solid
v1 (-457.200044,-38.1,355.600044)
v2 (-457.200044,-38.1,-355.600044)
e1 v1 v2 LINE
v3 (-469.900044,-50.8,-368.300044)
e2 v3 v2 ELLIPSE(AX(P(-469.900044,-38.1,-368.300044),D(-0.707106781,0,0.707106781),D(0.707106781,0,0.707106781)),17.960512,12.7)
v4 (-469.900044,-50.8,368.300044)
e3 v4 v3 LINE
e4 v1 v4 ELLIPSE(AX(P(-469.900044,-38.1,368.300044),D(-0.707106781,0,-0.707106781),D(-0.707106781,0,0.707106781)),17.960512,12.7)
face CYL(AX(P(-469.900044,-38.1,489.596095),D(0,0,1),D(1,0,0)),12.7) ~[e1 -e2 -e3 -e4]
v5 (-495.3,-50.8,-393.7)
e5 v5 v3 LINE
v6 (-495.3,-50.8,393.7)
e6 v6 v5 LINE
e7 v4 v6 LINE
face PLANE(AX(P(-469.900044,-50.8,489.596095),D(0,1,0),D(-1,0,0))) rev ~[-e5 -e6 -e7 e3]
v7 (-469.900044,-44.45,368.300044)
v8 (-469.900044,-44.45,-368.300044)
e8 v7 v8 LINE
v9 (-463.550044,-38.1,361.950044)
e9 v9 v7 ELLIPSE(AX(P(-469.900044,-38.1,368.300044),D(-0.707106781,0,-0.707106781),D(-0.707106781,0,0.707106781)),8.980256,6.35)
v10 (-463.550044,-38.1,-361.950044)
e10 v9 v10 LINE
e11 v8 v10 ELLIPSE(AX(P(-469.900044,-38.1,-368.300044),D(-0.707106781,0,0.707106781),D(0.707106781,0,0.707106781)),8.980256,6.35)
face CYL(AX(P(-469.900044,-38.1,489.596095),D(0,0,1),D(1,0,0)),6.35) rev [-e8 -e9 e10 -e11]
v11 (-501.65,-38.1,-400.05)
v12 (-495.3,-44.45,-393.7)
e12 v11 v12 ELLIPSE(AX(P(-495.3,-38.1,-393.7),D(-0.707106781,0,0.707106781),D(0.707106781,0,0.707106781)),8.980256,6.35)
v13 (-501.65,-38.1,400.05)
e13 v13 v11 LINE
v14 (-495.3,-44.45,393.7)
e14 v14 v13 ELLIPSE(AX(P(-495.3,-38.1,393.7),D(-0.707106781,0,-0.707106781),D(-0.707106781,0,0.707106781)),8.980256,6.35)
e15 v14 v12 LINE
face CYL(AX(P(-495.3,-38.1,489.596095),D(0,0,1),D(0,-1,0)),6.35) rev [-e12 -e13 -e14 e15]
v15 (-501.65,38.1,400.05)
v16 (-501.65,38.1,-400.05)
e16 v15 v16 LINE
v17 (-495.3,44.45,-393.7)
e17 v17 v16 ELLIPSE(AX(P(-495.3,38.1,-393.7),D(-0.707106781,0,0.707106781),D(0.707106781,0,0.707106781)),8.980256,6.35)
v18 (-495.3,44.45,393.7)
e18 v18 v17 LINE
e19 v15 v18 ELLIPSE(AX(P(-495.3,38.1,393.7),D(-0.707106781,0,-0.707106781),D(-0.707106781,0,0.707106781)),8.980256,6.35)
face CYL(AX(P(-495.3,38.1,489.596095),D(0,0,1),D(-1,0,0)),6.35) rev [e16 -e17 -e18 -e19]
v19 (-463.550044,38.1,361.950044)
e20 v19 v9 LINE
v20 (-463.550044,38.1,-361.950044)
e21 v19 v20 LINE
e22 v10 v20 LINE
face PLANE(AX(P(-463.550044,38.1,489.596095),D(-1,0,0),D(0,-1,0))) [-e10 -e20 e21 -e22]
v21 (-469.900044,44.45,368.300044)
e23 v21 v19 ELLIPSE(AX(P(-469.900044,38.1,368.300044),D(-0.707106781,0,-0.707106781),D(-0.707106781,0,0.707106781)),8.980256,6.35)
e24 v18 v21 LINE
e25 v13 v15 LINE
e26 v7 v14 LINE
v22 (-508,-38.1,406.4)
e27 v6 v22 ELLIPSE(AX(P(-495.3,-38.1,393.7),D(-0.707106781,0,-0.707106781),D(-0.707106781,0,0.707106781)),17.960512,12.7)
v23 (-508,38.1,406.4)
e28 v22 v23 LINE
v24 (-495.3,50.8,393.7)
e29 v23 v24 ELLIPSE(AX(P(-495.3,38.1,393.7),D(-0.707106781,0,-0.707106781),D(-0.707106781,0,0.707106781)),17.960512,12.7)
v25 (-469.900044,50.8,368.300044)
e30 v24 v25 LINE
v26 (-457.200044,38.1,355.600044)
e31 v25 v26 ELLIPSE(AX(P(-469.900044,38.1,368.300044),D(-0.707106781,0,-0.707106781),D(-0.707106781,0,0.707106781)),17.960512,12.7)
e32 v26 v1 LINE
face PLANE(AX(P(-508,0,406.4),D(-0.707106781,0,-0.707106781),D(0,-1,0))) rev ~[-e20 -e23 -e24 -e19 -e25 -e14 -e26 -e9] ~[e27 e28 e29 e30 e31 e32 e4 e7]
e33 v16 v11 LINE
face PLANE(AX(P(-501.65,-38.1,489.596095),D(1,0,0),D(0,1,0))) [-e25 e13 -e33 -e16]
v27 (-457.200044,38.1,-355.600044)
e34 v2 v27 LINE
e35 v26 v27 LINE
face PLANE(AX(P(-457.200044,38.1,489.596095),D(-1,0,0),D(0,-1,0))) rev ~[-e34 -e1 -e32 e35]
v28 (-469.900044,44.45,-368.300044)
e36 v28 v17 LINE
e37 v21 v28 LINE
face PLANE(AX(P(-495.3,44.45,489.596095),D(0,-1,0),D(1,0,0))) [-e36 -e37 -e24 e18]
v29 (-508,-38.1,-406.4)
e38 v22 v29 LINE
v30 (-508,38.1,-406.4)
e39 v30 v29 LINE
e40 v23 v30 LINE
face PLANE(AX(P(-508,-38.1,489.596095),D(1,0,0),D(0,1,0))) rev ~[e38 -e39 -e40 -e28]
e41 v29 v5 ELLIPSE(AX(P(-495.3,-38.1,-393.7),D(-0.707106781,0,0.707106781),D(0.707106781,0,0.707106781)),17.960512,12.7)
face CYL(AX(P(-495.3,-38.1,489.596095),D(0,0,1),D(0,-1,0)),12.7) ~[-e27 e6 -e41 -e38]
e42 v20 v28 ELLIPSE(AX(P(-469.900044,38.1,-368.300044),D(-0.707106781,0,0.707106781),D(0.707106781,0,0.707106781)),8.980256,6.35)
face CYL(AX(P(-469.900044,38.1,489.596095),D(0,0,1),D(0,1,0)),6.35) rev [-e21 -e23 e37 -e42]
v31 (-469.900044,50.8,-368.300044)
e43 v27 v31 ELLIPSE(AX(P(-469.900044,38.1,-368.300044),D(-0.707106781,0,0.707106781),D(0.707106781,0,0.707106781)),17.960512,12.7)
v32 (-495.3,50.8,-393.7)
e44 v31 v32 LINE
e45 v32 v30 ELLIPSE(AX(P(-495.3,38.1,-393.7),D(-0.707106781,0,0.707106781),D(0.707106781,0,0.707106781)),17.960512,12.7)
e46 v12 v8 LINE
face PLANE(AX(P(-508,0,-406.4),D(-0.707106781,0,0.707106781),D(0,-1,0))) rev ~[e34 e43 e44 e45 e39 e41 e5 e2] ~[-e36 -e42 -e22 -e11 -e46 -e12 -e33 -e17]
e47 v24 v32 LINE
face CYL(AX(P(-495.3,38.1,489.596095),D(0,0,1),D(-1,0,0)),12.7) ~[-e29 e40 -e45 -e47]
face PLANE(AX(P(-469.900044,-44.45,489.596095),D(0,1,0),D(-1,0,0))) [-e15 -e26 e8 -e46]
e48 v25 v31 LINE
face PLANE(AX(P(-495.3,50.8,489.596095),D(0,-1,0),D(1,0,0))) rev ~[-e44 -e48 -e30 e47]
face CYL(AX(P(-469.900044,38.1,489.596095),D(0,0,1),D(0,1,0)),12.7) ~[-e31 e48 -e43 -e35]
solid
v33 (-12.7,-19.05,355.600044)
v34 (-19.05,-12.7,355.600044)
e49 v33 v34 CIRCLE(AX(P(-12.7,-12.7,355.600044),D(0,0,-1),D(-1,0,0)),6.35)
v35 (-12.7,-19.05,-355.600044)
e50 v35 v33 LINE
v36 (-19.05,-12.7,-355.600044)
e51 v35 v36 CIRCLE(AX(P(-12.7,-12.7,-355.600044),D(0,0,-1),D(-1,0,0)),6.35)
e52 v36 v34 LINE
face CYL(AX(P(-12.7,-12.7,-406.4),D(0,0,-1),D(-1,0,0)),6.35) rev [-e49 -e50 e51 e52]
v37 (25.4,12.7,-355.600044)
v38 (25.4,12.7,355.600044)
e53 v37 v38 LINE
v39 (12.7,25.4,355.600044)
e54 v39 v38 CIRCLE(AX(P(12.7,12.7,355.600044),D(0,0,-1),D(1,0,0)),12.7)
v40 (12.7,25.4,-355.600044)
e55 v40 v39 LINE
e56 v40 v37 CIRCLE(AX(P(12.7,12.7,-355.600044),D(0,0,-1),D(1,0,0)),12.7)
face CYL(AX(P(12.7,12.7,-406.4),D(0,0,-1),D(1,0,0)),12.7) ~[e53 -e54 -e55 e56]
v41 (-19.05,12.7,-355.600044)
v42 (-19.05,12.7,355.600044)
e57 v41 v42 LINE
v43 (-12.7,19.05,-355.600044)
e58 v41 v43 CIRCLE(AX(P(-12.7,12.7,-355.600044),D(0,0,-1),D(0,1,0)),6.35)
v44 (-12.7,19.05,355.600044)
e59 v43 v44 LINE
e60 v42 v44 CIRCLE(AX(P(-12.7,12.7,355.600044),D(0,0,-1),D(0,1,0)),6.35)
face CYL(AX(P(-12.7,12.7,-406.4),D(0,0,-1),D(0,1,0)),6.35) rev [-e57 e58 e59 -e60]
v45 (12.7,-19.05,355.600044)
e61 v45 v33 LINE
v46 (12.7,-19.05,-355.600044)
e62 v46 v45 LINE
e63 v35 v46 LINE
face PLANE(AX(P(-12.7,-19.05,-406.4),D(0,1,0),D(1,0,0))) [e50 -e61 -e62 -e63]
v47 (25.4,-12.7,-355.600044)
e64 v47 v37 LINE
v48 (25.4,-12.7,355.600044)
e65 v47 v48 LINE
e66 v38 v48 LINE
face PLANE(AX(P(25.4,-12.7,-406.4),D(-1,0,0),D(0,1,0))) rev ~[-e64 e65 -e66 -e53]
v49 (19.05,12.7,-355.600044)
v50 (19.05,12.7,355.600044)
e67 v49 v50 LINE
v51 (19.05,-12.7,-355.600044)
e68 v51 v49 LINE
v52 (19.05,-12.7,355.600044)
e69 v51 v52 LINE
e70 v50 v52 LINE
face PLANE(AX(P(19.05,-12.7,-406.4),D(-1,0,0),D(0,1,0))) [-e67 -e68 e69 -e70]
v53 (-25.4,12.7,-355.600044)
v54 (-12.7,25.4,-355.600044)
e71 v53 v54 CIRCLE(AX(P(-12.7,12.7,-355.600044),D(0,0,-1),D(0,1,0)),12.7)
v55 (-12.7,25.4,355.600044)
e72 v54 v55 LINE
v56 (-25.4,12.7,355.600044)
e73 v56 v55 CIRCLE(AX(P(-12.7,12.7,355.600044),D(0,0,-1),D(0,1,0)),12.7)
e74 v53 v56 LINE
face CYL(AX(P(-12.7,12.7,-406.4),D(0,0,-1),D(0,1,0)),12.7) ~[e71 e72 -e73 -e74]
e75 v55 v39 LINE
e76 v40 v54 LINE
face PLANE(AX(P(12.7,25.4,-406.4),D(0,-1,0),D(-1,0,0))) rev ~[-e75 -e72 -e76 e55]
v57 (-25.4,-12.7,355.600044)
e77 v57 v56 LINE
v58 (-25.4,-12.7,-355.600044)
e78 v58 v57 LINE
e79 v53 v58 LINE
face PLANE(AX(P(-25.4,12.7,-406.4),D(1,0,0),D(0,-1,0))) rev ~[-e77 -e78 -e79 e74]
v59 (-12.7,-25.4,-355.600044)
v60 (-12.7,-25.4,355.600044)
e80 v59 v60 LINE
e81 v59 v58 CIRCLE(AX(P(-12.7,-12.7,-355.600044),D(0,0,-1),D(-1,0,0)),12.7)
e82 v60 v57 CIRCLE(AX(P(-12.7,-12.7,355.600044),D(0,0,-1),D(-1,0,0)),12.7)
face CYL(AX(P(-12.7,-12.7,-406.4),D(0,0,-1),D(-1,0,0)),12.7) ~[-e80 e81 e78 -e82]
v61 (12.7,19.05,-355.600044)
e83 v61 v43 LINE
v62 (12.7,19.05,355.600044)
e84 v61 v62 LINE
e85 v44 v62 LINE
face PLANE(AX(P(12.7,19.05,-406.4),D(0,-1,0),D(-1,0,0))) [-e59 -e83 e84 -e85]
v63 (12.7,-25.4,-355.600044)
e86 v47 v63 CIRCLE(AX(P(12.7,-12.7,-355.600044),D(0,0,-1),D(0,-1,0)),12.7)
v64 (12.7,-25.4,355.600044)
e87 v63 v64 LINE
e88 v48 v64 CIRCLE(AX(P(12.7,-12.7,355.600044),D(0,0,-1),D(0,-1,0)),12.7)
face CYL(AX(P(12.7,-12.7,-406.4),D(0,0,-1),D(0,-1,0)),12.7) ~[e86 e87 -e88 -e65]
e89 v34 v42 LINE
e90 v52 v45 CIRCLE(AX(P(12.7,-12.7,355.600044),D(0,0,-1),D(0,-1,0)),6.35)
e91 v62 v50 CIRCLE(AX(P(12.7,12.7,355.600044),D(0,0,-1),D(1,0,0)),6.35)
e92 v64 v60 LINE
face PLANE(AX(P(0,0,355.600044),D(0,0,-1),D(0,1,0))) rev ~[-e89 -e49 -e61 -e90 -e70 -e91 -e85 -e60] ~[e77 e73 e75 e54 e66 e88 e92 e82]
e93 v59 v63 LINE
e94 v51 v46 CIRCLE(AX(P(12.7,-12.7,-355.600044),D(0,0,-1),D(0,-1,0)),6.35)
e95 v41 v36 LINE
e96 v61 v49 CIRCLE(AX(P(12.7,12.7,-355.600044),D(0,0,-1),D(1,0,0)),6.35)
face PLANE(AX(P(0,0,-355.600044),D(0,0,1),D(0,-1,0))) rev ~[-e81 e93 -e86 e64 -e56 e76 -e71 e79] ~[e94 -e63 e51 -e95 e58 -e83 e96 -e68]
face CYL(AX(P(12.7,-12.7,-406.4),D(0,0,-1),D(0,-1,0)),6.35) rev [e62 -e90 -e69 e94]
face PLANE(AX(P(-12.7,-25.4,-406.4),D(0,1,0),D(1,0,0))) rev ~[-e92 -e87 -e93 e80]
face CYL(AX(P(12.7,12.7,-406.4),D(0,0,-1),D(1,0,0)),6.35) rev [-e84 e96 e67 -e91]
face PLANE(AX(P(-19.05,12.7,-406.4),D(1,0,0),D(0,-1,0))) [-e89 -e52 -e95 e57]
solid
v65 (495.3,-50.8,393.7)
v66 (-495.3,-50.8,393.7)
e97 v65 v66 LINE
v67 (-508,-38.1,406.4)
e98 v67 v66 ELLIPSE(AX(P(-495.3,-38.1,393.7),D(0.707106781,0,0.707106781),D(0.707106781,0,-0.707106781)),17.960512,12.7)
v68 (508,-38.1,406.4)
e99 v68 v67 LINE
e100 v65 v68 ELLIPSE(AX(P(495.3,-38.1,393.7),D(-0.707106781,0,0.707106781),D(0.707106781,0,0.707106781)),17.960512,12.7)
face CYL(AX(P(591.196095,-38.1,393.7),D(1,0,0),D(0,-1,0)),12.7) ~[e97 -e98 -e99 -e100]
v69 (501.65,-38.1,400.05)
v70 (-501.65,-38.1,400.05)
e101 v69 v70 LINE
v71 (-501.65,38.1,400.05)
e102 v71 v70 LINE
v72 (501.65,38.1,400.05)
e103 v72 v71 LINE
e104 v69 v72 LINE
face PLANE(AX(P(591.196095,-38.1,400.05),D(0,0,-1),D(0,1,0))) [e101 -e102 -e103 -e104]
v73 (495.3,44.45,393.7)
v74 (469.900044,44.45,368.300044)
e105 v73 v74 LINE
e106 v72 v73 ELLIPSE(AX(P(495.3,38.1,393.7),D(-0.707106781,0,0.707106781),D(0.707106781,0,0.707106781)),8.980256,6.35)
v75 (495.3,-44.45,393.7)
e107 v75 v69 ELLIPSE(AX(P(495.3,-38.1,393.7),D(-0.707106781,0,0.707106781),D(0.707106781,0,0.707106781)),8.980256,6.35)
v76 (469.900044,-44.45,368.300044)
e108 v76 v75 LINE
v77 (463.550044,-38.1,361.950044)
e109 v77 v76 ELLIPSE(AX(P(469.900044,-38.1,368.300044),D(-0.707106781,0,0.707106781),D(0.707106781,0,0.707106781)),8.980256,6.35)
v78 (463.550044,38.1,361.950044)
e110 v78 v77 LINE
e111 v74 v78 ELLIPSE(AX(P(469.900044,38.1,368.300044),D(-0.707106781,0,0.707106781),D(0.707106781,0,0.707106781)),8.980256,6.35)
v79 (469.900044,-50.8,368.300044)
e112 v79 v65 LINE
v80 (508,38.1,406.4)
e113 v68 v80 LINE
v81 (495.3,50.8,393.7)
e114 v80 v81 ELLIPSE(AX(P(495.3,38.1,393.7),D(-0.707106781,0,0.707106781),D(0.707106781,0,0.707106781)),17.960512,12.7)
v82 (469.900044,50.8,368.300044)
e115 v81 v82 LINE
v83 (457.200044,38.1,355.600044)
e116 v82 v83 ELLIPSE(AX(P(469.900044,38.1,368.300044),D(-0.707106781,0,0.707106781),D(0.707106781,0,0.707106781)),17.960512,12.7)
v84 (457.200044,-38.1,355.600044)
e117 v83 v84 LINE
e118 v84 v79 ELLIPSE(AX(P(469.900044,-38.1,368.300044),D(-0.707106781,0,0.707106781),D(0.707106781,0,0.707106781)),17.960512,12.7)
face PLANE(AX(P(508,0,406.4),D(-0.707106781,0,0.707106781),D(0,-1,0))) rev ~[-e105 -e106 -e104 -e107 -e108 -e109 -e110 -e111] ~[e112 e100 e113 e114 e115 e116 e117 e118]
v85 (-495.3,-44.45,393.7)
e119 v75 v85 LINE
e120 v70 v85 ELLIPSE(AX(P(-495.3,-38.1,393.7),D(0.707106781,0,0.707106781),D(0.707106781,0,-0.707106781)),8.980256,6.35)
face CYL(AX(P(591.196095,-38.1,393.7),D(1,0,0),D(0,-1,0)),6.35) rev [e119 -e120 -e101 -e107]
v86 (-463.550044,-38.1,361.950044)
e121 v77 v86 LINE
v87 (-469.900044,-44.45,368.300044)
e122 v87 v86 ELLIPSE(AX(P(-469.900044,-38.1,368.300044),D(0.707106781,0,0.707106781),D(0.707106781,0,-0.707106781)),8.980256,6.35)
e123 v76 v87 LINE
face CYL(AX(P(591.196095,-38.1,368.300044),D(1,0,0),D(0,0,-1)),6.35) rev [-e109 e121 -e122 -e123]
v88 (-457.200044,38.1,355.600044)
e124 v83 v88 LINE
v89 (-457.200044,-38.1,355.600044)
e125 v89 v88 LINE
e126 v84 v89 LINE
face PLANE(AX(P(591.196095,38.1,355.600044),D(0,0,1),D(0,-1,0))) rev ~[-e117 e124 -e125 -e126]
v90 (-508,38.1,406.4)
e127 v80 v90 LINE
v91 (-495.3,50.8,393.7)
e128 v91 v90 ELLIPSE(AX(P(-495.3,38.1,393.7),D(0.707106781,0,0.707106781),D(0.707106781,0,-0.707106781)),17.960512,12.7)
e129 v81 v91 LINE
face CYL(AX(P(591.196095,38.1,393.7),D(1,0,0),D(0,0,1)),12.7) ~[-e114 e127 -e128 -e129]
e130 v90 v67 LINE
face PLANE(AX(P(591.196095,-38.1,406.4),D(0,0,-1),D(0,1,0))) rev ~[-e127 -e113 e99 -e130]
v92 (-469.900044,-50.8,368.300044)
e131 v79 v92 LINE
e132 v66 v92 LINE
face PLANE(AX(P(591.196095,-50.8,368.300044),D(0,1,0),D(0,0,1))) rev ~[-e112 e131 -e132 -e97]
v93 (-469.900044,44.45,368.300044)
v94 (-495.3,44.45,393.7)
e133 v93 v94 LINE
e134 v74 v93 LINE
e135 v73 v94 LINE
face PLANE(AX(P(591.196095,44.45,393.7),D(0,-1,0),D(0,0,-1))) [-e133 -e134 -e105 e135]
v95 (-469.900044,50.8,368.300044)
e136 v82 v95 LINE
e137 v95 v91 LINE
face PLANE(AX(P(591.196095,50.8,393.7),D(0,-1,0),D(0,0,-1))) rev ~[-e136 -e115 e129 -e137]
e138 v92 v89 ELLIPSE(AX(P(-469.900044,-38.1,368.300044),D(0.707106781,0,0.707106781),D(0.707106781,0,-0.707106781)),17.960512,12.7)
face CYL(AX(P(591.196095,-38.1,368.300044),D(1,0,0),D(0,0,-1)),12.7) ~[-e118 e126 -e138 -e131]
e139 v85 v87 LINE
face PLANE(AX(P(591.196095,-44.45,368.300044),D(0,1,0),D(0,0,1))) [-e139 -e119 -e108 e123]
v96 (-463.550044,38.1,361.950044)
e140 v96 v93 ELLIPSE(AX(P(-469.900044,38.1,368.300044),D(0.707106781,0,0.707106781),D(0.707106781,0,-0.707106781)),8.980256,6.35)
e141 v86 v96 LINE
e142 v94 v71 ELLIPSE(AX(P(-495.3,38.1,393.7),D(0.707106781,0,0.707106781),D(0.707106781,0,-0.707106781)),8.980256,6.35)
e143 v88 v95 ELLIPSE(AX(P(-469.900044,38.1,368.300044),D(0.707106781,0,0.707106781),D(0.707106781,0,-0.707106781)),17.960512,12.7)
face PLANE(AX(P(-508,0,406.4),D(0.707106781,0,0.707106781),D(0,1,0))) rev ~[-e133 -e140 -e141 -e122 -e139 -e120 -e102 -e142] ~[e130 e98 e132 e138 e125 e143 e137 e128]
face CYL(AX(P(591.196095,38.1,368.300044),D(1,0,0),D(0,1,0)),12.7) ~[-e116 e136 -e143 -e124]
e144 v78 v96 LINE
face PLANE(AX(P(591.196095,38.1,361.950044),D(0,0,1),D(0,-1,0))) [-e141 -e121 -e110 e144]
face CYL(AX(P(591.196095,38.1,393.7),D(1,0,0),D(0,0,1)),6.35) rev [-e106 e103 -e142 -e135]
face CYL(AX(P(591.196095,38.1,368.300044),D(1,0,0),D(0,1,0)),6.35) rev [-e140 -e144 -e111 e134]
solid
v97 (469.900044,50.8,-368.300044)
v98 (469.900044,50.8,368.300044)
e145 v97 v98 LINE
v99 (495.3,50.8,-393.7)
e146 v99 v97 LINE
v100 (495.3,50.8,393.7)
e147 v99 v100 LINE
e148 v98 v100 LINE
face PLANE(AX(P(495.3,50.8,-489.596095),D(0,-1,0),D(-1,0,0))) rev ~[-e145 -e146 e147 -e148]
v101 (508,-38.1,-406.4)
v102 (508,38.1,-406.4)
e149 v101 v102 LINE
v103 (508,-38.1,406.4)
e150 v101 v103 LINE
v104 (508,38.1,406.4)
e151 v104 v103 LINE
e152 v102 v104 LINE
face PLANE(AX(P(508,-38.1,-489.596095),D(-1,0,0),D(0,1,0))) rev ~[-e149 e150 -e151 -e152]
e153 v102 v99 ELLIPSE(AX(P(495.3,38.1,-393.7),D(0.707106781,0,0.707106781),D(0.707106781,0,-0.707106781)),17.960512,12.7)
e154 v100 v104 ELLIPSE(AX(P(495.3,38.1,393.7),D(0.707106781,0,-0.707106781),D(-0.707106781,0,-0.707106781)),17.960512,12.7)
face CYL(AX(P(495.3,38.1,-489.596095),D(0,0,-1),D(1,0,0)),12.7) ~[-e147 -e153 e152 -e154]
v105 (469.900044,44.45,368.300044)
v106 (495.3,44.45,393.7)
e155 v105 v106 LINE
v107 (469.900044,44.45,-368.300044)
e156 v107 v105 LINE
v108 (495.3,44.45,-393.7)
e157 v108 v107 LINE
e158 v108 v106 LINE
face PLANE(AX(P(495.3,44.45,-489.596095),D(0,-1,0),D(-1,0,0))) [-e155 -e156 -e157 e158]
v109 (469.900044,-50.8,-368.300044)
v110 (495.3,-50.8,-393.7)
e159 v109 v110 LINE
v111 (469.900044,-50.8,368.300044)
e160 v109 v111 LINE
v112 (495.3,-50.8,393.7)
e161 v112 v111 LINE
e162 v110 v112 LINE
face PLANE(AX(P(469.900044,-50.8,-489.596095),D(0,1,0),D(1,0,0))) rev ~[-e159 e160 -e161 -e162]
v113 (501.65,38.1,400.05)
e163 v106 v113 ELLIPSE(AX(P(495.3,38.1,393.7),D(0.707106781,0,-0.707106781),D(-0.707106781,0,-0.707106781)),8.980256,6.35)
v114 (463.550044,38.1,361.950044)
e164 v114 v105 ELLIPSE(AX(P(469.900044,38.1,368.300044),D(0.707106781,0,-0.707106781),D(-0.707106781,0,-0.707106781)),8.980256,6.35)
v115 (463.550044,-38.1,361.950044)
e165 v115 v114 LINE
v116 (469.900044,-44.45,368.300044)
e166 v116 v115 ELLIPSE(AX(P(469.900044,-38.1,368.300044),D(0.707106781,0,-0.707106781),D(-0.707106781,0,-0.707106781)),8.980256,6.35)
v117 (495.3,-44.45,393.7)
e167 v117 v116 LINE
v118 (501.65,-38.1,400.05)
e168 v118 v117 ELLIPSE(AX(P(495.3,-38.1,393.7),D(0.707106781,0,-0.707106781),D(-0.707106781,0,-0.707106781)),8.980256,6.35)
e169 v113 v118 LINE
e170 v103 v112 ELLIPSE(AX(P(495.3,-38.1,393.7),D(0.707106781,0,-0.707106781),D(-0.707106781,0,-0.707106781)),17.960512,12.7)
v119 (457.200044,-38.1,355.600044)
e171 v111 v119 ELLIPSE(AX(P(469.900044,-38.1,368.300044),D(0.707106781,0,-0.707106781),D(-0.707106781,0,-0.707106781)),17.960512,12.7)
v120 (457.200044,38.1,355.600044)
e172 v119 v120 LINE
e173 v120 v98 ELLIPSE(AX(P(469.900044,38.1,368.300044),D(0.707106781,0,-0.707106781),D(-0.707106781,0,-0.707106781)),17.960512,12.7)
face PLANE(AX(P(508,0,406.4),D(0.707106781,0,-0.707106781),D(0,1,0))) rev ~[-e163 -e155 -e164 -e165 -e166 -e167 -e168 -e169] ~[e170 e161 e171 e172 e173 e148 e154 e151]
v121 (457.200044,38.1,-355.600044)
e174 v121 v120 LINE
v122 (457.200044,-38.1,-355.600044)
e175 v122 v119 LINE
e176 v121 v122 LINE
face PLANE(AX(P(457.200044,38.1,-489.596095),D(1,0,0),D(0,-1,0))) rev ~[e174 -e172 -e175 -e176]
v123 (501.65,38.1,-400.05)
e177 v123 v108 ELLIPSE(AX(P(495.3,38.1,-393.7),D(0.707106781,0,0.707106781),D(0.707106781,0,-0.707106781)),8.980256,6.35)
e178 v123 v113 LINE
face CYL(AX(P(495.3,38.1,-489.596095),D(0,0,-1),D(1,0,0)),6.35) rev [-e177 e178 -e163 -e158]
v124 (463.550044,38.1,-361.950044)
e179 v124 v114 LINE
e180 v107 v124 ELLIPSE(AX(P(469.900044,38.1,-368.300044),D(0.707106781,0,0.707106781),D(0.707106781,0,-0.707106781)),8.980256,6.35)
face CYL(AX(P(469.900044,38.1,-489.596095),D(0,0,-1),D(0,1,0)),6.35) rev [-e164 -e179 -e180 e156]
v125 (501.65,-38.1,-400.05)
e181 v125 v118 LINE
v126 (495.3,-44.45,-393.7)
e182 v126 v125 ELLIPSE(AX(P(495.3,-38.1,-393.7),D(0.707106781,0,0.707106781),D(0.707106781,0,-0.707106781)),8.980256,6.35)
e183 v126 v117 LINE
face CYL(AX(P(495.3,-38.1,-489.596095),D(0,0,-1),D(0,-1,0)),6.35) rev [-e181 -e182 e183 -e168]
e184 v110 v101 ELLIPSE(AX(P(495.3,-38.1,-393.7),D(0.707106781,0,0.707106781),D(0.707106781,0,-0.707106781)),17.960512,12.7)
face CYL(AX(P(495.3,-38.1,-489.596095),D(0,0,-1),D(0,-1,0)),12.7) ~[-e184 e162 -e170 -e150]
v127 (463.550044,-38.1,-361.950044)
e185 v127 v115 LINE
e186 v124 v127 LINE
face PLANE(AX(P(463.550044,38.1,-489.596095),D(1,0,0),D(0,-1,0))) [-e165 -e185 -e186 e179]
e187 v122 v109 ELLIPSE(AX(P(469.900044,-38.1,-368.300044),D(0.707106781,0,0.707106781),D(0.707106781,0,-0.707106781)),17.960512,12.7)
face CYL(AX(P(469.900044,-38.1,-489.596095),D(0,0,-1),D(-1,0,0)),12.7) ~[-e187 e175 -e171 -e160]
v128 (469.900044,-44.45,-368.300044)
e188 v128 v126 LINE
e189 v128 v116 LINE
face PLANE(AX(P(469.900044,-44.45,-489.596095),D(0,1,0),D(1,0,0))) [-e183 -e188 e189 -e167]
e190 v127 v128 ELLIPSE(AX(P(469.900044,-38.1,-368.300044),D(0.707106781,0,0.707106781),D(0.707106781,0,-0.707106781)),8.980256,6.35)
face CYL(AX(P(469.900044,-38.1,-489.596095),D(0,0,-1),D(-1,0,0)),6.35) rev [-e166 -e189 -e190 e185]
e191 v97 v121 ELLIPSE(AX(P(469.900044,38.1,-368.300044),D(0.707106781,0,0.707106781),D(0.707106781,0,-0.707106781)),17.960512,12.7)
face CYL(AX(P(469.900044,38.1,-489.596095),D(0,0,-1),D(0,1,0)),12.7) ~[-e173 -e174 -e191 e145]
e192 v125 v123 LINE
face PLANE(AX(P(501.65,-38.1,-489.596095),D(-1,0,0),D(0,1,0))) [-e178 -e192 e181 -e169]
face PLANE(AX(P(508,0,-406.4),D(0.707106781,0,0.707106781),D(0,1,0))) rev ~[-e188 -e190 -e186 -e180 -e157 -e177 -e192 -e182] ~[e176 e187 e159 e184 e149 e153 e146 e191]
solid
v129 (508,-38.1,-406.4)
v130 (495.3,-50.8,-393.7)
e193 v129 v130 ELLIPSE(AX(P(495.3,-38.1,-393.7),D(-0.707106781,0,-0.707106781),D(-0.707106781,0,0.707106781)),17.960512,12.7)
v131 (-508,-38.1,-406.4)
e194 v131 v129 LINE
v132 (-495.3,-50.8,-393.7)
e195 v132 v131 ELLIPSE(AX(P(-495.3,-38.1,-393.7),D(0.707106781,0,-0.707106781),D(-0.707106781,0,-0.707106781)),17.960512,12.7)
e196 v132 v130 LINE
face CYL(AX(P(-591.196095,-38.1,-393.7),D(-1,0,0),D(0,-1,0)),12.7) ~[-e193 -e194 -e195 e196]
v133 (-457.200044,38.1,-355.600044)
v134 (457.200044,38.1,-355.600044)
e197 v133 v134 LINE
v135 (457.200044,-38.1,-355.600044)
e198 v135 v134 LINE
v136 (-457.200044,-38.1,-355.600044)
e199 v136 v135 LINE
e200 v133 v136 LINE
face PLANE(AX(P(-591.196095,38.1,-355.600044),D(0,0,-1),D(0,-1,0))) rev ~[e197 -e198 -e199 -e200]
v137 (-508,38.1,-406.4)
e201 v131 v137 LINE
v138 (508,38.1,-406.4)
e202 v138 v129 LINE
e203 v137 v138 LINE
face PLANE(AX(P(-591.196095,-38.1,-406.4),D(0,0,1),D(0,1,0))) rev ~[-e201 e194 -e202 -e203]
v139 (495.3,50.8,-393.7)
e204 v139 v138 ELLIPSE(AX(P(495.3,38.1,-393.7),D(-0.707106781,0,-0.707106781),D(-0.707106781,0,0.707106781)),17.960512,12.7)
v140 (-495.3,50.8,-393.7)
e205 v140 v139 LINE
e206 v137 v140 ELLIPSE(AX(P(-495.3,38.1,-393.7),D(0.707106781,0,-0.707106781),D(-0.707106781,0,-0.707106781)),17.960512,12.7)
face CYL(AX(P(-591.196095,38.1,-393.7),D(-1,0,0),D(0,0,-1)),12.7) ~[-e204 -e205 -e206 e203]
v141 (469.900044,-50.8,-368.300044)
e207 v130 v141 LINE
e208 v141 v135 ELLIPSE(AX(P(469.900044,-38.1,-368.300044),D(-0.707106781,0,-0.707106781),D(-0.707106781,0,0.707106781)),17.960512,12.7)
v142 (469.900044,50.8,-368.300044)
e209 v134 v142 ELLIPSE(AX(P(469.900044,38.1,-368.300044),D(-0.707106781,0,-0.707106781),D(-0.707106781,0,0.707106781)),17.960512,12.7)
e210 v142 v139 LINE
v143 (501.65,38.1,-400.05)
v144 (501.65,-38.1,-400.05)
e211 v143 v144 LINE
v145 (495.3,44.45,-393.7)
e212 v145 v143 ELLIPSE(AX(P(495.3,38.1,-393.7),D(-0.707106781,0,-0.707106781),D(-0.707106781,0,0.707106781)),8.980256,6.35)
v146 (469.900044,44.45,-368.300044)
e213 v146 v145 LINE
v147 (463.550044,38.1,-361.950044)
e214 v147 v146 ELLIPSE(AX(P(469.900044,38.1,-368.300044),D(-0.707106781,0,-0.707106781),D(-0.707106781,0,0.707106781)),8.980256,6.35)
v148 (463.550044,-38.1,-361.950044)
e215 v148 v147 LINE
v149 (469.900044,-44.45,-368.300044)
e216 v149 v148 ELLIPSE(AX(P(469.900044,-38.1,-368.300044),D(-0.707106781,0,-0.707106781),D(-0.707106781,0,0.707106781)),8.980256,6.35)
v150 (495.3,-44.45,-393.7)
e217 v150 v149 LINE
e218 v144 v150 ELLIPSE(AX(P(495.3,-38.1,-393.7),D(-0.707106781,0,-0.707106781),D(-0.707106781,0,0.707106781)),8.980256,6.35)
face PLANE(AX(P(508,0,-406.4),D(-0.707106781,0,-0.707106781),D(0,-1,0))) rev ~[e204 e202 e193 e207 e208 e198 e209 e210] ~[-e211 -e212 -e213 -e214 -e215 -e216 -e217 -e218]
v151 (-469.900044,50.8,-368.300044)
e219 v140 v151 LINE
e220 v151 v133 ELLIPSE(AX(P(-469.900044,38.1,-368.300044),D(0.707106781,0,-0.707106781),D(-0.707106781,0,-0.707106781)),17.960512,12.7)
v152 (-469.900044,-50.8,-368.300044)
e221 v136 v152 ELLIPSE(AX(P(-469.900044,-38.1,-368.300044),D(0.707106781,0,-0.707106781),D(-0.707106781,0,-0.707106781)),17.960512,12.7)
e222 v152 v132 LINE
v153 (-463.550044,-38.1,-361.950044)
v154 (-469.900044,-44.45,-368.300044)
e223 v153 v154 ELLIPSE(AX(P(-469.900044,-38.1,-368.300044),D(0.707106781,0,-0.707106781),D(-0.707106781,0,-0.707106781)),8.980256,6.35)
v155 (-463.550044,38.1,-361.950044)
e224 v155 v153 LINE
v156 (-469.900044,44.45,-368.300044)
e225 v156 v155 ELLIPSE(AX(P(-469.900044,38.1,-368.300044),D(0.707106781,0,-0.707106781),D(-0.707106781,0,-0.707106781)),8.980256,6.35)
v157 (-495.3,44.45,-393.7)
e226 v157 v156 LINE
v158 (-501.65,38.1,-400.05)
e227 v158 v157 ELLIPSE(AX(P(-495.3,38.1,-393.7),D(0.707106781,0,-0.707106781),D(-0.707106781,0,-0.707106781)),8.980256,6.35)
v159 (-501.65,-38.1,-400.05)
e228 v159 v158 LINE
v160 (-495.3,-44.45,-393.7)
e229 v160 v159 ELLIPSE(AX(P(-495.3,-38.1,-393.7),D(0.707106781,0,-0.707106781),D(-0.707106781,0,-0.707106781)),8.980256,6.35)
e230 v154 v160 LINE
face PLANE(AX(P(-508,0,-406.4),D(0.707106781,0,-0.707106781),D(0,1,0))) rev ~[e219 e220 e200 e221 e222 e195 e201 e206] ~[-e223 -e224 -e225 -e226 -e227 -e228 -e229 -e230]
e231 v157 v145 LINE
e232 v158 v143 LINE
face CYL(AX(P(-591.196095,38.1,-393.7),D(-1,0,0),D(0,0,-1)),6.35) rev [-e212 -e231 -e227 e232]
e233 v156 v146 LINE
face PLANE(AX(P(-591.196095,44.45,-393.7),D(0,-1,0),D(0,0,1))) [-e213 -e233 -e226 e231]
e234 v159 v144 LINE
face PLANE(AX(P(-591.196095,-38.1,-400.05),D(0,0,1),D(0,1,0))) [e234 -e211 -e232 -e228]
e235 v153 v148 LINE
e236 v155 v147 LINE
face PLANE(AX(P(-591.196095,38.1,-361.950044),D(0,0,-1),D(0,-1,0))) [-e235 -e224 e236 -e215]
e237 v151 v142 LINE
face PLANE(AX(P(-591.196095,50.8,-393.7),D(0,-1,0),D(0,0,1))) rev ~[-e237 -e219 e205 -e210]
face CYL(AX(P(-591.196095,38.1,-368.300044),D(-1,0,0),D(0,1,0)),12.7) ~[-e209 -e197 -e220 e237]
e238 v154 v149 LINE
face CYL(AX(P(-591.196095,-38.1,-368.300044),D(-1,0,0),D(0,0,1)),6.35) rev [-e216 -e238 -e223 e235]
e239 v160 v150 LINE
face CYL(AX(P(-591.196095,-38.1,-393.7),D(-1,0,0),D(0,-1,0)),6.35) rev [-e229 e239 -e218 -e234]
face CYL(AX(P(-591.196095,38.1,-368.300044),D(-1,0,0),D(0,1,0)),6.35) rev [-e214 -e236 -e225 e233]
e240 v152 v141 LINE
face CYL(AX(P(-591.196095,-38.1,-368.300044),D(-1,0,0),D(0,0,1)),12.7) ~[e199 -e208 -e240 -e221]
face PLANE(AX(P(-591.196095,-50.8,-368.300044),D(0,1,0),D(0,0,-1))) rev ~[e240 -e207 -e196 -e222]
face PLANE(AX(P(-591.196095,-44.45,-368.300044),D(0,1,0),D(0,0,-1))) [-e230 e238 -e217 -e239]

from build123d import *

# Parameters (mm, degrees)
RECTANGULAR_TUBE_4_X_2_X_0_25_1_DEPTH      = 895.996094832
RECTANGULAR_TUBE_4_X_2_X_0_25_1_DEPTH_BACK = 83.196094832
RECTANGULAR_TUBE_4_X_2_X_0_25_1_2_DEPTH    = 1182.392189664
RECTANGULAR_TUBE_4_X_2_X_0_25_1_3_DEPTH    = 979.192189664
RECTANGULAR_TUBE_4_X_2_X_0_25_1_4_DEPTH    = 1182.392189664
SQUARE_TUBE_2_X_2_X_0_25_1_DEPTH           = 812.8


with BuildPart() as part:
    # Sketch1 → Rectangular tube 4 X 2 X 0.25(1) (new, two sides: drawn at the far end of the back side and taken through both)
    with BuildSketch(Plane(origin=(-482.600021971, 0, 406.4), x_dir=(-1, 0, 0), z_dir=(0, 0, -1)).offset(-RECTANGULAR_TUBE_4_X_2_X_0_25_1_DEPTH_BACK)):
        with BuildLine():
            Line((-12.699978029, -50.8), (12.699978029, -50.8))
            ThreePointArc((12.699978029, -50.8), (21.68023415, -47.080256121), (25.399978029, -38.1))
            Line((25.399978029, -38.1), (25.399978029, 38.1))
            ThreePointArc((25.399978029, 38.1), (21.68023415, 47.080256121), (12.699978029, 50.8))
            Line((12.699978029, 50.8), (-12.699978029, 50.8))
            ThreePointArc((-12.699978029, 50.8), (-21.68023415, 47.080256121), (-25.399978029, 38.1))
            Line((-25.399978029, 38.1), (-25.399978029, -38.1))
            ThreePointArc((-25.399978029, -38.1), (-21.68023415, -47.080256121), (-12.699978029, -50.8))
        make_face()
        with BuildLine():
            Line((-12.699978029, -44.45), (12.699978029, -44.45))
            ThreePointArc((12.699978029, -44.45), (17.19010609, -42.590128061), (19.049978029, -38.1))
            Line((19.049978029, -38.1), (19.049978029, 38.1))
            ThreePointArc((19.049978029, 38.1), (17.19010609, 42.590128061), (12.699978029, 44.45))
            Line((12.699978029, 44.45), (-12.699978029, 44.45))
            ThreePointArc((-12.699978029, 44.45), (-17.19010609, 42.590128061), (-19.049978029, 38.1))
            Line((-19.049978029, 38.1), (-19.049978029, -38.1))
            ThreePointArc((-19.049978029, -38.1), (-17.19010609, -42.590128061), (-12.699978029, -44.45))
        make_face(mode=Mode.SUBTRACT)
    extrude(amount=RECTANGULAR_TUBE_4_X_2_X_0_25_1_DEPTH + RECTANGULAR_TUBE_4_X_2_X_0_25_1_DEPTH_BACK)

    # Rectangular tube 4 X 2 X 0.25(1) mitre 1
    split(bisect_by=Plane(origin=(-508, 0, 406.4), x_dir=(0, -1, 0), z_dir=(-0.707106781, 0, -0.707106781)), keep=Keep.TOP)

    # Rectangular tube 4 X 2 X 0.25(1) mitre 2
    split(bisect_by=Plane(origin=(-508, 0, -406.4), x_dir=(0, -1, 0), z_dir=(-0.707106781, 0, 0.707106781)), keep=Keep.TOP)


with BuildPart() as body_2:
    # Sketch1 on segment 2 (carried to segment 2) → Rectangular tube 4 X 2 X 0.25_1 2 (new body)
    with BuildSketch(Plane(origin=(-591.196094832, 0, -381.000021971), x_dir=(0, 0, -1), z_dir=(1, 0, 0))):
        with BuildLine():
            Line((-12.699978029, -50.8), (12.699978029, -50.8))
            ThreePointArc((12.699978029, -50.8), (21.68023415, -47.080256121), (25.399978029, -38.1))
            Line((25.399978029, -38.1), (25.399978029, 38.1))
            ThreePointArc((25.399978029, 38.1), (21.68023415, 47.080256121), (12.699978029, 50.8))
            Line((12.699978029, 50.8), (-12.699978029, 50.8))
            ThreePointArc((-12.699978029, 50.8), (-21.68023415, 47.080256121), (-25.399978029, 38.1))
            Line((-25.399978029, 38.1), (-25.399978029, -38.1))
            ThreePointArc((-25.399978029, -38.1), (-21.68023415, -47.080256121), (-12.699978029, -50.8))
        make_face()
        with BuildLine():
            Line((-12.699978029, -44.45), (12.699978029, -44.45))
            ThreePointArc((12.699978029, -44.45), (17.19010609, -42.590128061), (19.049978029, -38.1))
            Line((19.049978029, -38.1), (19.049978029, 38.1))
            ThreePointArc((19.049978029, 38.1), (17.19010609, 42.590128061), (12.699978029, 44.45))
            Line((12.699978029, 44.45), (-12.699978029, 44.45))
            ThreePointArc((-12.699978029, 44.45), (-17.19010609, 42.590128061), (-19.049978029, 38.1))
            Line((-19.049978029, 38.1), (-19.049978029, -38.1))
            ThreePointArc((-19.049978029, -38.1), (-17.19010609, -42.590128061), (-12.699978029, -44.45))
        make_face(mode=Mode.SUBTRACT)
    extrude(amount=RECTANGULAR_TUBE_4_X_2_X_0_25_1_2_DEPTH)

    # Rectangular tube 4 X 2 X 0.25_1 2 mitre
    split(bisect_by=Plane(origin=(-508, 0, -406.4), x_dir=(0, 1, 0), z_dir=(0.707106781, 0, -0.707106781)), keep=Keep.TOP)

    # Rectangular tube 4 X 2 X 0.25_1 2 mi 2
    split(bisect_by=Plane(origin=(508, 0, -406.4), x_dir=(0, -1, 0), z_dir=(-0.707106781, 0, -0.707106781)), keep=Keep.TOP)


with BuildPart() as body_3:
    # Sketch1 on segment 3 (carried to segment 3) → Rectangular tube 4 X 2 X 0.25_1 3 (new body)
    with BuildSketch(Plane(origin=(482.600021971, 0, -489.596094832), x_dir=(1, 0, 0), z_dir=(0, 0, 1))):
        with BuildLine():
            Line((-12.699978029, -50.8), (12.699978029, -50.8))
            ThreePointArc((12.699978029, -50.8), (21.68023415, -47.080256121), (25.399978029, -38.1))
            Line((25.399978029, -38.1), (25.399978029, 38.1))
            ThreePointArc((25.399978029, 38.1), (21.68023415, 47.080256121), (12.699978029, 50.8))
            Line((12.699978029, 50.8), (-12.699978029, 50.8))
            ThreePointArc((-12.699978029, 50.8), (-21.68023415, 47.080256121), (-25.399978029, 38.1))
            Line((-25.399978029, 38.1), (-25.399978029, -38.1))
            ThreePointArc((-25.399978029, -38.1), (-21.68023415, -47.080256121), (-12.699978029, -50.8))
        make_face()
        with BuildLine():
            Line((-12.699978029, -44.45), (12.699978029, -44.45))
            ThreePointArc((12.699978029, -44.45), (17.19010609, -42.590128061), (19.049978029, -38.1))
            Line((19.049978029, -38.1), (19.049978029, 38.1))
            ThreePointArc((19.049978029, 38.1), (17.19010609, 42.590128061), (12.699978029, 44.45))
            Line((12.699978029, 44.45), (-12.699978029, 44.45))
            ThreePointArc((-12.699978029, 44.45), (-17.19010609, 42.590128061), (-19.049978029, 38.1))
            Line((-19.049978029, 38.1), (-19.049978029, -38.1))
            ThreePointArc((-19.049978029, -38.1), (-17.19010609, -42.590128061), (-12.699978029, -44.45))
        make_face(mode=Mode.SUBTRACT)
    extrude(amount=RECTANGULAR_TUBE_4_X_2_X_0_25_1_3_DEPTH)

    # Rectangular tube 4 X 2 X 0.25_1 3 mitre
    split(bisect_by=Plane(origin=(508, 0, 406.4), x_dir=(0, 1, 0), z_dir=(0.707106781, 0, -0.707106781)), keep=Keep.TOP)

    # Rectangular tube 4 X 2 X 0.25_1 3 mi 2
    split(bisect_by=Plane(origin=(508, 0, -406.4), x_dir=(0, 1, 0), z_dir=(0.707106781, 0, 0.707106781)), keep=Keep.TOP)


with BuildPart() as body_4:
    # Sketch1 on segment 4 (carried to segment 4) → Rectangular tube 4 X 2 X 0.25_1 4 (new body)
    with BuildSketch(Plane(origin=(591.196094832, 0, 381.000021971), x_dir=(0, 0, 1), z_dir=(-1, 0, 0))):
        with BuildLine():
            Line((-12.699978029, -50.8), (12.699978029, -50.8))
            ThreePointArc((12.699978029, -50.8), (21.68023415, -47.080256121), (25.399978029, -38.1))
            Line((25.399978029, -38.1), (25.399978029, 38.1))
            ThreePointArc((25.399978029, 38.1), (21.68023415, 47.080256121), (12.699978029, 50.8))
            Line((12.699978029, 50.8), (-12.699978029, 50.8))
            ThreePointArc((-12.699978029, 50.8), (-21.68023415, 47.080256121), (-25.399978029, 38.1))
            Line((-25.399978029, 38.1), (-25.399978029, -38.1))
            ThreePointArc((-25.399978029, -38.1), (-21.68023415, -47.080256121), (-12.699978029, -50.8))
        make_face()
        with BuildLine():
            Line((-12.699978029, -44.45), (12.699978029, -44.45))
            ThreePointArc((12.699978029, -44.45), (17.19010609, -42.590128061), (19.049978029, -38.1))
            Line((19.049978029, -38.1), (19.049978029, 38.1))
            ThreePointArc((19.049978029, 38.1), (17.19010609, 42.590128061), (12.699978029, 44.45))
            Line((12.699978029, 44.45), (-12.699978029, 44.45))
            ThreePointArc((-12.699978029, 44.45), (-17.19010609, 42.590128061), (-19.049978029, 38.1))
            Line((-19.049978029, 38.1), (-19.049978029, -38.1))
            ThreePointArc((-19.049978029, -38.1), (-17.19010609, -42.590128061), (-12.699978029, -44.45))
        make_face(mode=Mode.SUBTRACT)
    extrude(amount=RECTANGULAR_TUBE_4_X_2_X_0_25_1_4_DEPTH)

    # Rectangular tube 4 X 2 X 0.25_1 4 mitre
    split(bisect_by=Plane(origin=(-508, 0, 406.4), x_dir=(0, 1, 0), z_dir=(0.707106781, 0, 0.707106781)), keep=Keep.TOP)

    # Rectangular tube 4 X 2 X 0.25_1 4 mi 2
    split(bisect_by=Plane(origin=(508, 0, 406.4), x_dir=(0, -1, 0), z_dir=(-0.707106781, 0, 0.707106781)), keep=Keep.TOP)


with BuildPart() as body_5:
    # Sketch11 → Square tube 2 X 2 X 0.25(1) (new body)
    with BuildSketch(Plane.XY.offset(-406.4)):
        with BuildLine():
            Line((-12.7, -25.4), (12.7, -25.4))
            ThreePointArc((12.7, -25.4), (21.680256121, -21.680256121), (25.4, -12.7))
            Line((25.4, -12.7), (25.4, 12.7))
            ThreePointArc((25.4, 12.7), (21.680256121, 21.680256121), (12.7, 25.4))
            Line((12.7, 25.4), (-12.7, 25.4))
            ThreePointArc((-12.7, 25.4), (-21.680256121, 21.680256121), (-25.4, 12.7))
            Line((-25.4, 12.7), (-25.4, -12.7))
            ThreePointArc((-25.4, -12.7), (-21.680256121, -21.680256121), (-12.7, -25.4))
        make_face()
        with BuildLine():
            Line((-12.7, -19.05), (12.7, -19.05))
            ThreePointArc((12.7, -19.05), (17.190128061, -17.190128061), (19.05, -12.7))
            Line((19.05, -12.7), (19.05, 12.7))
            ThreePointArc((19.05, 12.7), (17.190128061, 17.190128061), (12.7, 19.05))
            Line((12.7, 19.05), (-12.7, 19.05))
            ThreePointArc((-12.7, 19.05), (-17.190128061, 17.190128061), (-19.05, 12.7))
            Line((-19.05, 12.7), (-19.05, -12.7))
            ThreePointArc((-19.05, -12.7), (-17.190128061, -17.190128061), (-12.7, -19.05))
        make_face(mode=Mode.SUBTRACT)
    extrude(amount=SQUARE_TUBE_2_X_2_X_0_25_1_DEPTH)

    # Trim/Extend1
    split(bisect_by=Plane(origin=(0, 0, -355.600043942), x_dir=(0, -1, 0), z_dir=(0, 0, 1)), keep=Keep.TOP)

    # Trim_Extend1 3
    split(bisect_by=Plane.YX.offset(-355.600043942), keep=Keep.TOP)


solid = Compound([part.part, body_2.part, body_3.part, body_4.part, body_5.part])
